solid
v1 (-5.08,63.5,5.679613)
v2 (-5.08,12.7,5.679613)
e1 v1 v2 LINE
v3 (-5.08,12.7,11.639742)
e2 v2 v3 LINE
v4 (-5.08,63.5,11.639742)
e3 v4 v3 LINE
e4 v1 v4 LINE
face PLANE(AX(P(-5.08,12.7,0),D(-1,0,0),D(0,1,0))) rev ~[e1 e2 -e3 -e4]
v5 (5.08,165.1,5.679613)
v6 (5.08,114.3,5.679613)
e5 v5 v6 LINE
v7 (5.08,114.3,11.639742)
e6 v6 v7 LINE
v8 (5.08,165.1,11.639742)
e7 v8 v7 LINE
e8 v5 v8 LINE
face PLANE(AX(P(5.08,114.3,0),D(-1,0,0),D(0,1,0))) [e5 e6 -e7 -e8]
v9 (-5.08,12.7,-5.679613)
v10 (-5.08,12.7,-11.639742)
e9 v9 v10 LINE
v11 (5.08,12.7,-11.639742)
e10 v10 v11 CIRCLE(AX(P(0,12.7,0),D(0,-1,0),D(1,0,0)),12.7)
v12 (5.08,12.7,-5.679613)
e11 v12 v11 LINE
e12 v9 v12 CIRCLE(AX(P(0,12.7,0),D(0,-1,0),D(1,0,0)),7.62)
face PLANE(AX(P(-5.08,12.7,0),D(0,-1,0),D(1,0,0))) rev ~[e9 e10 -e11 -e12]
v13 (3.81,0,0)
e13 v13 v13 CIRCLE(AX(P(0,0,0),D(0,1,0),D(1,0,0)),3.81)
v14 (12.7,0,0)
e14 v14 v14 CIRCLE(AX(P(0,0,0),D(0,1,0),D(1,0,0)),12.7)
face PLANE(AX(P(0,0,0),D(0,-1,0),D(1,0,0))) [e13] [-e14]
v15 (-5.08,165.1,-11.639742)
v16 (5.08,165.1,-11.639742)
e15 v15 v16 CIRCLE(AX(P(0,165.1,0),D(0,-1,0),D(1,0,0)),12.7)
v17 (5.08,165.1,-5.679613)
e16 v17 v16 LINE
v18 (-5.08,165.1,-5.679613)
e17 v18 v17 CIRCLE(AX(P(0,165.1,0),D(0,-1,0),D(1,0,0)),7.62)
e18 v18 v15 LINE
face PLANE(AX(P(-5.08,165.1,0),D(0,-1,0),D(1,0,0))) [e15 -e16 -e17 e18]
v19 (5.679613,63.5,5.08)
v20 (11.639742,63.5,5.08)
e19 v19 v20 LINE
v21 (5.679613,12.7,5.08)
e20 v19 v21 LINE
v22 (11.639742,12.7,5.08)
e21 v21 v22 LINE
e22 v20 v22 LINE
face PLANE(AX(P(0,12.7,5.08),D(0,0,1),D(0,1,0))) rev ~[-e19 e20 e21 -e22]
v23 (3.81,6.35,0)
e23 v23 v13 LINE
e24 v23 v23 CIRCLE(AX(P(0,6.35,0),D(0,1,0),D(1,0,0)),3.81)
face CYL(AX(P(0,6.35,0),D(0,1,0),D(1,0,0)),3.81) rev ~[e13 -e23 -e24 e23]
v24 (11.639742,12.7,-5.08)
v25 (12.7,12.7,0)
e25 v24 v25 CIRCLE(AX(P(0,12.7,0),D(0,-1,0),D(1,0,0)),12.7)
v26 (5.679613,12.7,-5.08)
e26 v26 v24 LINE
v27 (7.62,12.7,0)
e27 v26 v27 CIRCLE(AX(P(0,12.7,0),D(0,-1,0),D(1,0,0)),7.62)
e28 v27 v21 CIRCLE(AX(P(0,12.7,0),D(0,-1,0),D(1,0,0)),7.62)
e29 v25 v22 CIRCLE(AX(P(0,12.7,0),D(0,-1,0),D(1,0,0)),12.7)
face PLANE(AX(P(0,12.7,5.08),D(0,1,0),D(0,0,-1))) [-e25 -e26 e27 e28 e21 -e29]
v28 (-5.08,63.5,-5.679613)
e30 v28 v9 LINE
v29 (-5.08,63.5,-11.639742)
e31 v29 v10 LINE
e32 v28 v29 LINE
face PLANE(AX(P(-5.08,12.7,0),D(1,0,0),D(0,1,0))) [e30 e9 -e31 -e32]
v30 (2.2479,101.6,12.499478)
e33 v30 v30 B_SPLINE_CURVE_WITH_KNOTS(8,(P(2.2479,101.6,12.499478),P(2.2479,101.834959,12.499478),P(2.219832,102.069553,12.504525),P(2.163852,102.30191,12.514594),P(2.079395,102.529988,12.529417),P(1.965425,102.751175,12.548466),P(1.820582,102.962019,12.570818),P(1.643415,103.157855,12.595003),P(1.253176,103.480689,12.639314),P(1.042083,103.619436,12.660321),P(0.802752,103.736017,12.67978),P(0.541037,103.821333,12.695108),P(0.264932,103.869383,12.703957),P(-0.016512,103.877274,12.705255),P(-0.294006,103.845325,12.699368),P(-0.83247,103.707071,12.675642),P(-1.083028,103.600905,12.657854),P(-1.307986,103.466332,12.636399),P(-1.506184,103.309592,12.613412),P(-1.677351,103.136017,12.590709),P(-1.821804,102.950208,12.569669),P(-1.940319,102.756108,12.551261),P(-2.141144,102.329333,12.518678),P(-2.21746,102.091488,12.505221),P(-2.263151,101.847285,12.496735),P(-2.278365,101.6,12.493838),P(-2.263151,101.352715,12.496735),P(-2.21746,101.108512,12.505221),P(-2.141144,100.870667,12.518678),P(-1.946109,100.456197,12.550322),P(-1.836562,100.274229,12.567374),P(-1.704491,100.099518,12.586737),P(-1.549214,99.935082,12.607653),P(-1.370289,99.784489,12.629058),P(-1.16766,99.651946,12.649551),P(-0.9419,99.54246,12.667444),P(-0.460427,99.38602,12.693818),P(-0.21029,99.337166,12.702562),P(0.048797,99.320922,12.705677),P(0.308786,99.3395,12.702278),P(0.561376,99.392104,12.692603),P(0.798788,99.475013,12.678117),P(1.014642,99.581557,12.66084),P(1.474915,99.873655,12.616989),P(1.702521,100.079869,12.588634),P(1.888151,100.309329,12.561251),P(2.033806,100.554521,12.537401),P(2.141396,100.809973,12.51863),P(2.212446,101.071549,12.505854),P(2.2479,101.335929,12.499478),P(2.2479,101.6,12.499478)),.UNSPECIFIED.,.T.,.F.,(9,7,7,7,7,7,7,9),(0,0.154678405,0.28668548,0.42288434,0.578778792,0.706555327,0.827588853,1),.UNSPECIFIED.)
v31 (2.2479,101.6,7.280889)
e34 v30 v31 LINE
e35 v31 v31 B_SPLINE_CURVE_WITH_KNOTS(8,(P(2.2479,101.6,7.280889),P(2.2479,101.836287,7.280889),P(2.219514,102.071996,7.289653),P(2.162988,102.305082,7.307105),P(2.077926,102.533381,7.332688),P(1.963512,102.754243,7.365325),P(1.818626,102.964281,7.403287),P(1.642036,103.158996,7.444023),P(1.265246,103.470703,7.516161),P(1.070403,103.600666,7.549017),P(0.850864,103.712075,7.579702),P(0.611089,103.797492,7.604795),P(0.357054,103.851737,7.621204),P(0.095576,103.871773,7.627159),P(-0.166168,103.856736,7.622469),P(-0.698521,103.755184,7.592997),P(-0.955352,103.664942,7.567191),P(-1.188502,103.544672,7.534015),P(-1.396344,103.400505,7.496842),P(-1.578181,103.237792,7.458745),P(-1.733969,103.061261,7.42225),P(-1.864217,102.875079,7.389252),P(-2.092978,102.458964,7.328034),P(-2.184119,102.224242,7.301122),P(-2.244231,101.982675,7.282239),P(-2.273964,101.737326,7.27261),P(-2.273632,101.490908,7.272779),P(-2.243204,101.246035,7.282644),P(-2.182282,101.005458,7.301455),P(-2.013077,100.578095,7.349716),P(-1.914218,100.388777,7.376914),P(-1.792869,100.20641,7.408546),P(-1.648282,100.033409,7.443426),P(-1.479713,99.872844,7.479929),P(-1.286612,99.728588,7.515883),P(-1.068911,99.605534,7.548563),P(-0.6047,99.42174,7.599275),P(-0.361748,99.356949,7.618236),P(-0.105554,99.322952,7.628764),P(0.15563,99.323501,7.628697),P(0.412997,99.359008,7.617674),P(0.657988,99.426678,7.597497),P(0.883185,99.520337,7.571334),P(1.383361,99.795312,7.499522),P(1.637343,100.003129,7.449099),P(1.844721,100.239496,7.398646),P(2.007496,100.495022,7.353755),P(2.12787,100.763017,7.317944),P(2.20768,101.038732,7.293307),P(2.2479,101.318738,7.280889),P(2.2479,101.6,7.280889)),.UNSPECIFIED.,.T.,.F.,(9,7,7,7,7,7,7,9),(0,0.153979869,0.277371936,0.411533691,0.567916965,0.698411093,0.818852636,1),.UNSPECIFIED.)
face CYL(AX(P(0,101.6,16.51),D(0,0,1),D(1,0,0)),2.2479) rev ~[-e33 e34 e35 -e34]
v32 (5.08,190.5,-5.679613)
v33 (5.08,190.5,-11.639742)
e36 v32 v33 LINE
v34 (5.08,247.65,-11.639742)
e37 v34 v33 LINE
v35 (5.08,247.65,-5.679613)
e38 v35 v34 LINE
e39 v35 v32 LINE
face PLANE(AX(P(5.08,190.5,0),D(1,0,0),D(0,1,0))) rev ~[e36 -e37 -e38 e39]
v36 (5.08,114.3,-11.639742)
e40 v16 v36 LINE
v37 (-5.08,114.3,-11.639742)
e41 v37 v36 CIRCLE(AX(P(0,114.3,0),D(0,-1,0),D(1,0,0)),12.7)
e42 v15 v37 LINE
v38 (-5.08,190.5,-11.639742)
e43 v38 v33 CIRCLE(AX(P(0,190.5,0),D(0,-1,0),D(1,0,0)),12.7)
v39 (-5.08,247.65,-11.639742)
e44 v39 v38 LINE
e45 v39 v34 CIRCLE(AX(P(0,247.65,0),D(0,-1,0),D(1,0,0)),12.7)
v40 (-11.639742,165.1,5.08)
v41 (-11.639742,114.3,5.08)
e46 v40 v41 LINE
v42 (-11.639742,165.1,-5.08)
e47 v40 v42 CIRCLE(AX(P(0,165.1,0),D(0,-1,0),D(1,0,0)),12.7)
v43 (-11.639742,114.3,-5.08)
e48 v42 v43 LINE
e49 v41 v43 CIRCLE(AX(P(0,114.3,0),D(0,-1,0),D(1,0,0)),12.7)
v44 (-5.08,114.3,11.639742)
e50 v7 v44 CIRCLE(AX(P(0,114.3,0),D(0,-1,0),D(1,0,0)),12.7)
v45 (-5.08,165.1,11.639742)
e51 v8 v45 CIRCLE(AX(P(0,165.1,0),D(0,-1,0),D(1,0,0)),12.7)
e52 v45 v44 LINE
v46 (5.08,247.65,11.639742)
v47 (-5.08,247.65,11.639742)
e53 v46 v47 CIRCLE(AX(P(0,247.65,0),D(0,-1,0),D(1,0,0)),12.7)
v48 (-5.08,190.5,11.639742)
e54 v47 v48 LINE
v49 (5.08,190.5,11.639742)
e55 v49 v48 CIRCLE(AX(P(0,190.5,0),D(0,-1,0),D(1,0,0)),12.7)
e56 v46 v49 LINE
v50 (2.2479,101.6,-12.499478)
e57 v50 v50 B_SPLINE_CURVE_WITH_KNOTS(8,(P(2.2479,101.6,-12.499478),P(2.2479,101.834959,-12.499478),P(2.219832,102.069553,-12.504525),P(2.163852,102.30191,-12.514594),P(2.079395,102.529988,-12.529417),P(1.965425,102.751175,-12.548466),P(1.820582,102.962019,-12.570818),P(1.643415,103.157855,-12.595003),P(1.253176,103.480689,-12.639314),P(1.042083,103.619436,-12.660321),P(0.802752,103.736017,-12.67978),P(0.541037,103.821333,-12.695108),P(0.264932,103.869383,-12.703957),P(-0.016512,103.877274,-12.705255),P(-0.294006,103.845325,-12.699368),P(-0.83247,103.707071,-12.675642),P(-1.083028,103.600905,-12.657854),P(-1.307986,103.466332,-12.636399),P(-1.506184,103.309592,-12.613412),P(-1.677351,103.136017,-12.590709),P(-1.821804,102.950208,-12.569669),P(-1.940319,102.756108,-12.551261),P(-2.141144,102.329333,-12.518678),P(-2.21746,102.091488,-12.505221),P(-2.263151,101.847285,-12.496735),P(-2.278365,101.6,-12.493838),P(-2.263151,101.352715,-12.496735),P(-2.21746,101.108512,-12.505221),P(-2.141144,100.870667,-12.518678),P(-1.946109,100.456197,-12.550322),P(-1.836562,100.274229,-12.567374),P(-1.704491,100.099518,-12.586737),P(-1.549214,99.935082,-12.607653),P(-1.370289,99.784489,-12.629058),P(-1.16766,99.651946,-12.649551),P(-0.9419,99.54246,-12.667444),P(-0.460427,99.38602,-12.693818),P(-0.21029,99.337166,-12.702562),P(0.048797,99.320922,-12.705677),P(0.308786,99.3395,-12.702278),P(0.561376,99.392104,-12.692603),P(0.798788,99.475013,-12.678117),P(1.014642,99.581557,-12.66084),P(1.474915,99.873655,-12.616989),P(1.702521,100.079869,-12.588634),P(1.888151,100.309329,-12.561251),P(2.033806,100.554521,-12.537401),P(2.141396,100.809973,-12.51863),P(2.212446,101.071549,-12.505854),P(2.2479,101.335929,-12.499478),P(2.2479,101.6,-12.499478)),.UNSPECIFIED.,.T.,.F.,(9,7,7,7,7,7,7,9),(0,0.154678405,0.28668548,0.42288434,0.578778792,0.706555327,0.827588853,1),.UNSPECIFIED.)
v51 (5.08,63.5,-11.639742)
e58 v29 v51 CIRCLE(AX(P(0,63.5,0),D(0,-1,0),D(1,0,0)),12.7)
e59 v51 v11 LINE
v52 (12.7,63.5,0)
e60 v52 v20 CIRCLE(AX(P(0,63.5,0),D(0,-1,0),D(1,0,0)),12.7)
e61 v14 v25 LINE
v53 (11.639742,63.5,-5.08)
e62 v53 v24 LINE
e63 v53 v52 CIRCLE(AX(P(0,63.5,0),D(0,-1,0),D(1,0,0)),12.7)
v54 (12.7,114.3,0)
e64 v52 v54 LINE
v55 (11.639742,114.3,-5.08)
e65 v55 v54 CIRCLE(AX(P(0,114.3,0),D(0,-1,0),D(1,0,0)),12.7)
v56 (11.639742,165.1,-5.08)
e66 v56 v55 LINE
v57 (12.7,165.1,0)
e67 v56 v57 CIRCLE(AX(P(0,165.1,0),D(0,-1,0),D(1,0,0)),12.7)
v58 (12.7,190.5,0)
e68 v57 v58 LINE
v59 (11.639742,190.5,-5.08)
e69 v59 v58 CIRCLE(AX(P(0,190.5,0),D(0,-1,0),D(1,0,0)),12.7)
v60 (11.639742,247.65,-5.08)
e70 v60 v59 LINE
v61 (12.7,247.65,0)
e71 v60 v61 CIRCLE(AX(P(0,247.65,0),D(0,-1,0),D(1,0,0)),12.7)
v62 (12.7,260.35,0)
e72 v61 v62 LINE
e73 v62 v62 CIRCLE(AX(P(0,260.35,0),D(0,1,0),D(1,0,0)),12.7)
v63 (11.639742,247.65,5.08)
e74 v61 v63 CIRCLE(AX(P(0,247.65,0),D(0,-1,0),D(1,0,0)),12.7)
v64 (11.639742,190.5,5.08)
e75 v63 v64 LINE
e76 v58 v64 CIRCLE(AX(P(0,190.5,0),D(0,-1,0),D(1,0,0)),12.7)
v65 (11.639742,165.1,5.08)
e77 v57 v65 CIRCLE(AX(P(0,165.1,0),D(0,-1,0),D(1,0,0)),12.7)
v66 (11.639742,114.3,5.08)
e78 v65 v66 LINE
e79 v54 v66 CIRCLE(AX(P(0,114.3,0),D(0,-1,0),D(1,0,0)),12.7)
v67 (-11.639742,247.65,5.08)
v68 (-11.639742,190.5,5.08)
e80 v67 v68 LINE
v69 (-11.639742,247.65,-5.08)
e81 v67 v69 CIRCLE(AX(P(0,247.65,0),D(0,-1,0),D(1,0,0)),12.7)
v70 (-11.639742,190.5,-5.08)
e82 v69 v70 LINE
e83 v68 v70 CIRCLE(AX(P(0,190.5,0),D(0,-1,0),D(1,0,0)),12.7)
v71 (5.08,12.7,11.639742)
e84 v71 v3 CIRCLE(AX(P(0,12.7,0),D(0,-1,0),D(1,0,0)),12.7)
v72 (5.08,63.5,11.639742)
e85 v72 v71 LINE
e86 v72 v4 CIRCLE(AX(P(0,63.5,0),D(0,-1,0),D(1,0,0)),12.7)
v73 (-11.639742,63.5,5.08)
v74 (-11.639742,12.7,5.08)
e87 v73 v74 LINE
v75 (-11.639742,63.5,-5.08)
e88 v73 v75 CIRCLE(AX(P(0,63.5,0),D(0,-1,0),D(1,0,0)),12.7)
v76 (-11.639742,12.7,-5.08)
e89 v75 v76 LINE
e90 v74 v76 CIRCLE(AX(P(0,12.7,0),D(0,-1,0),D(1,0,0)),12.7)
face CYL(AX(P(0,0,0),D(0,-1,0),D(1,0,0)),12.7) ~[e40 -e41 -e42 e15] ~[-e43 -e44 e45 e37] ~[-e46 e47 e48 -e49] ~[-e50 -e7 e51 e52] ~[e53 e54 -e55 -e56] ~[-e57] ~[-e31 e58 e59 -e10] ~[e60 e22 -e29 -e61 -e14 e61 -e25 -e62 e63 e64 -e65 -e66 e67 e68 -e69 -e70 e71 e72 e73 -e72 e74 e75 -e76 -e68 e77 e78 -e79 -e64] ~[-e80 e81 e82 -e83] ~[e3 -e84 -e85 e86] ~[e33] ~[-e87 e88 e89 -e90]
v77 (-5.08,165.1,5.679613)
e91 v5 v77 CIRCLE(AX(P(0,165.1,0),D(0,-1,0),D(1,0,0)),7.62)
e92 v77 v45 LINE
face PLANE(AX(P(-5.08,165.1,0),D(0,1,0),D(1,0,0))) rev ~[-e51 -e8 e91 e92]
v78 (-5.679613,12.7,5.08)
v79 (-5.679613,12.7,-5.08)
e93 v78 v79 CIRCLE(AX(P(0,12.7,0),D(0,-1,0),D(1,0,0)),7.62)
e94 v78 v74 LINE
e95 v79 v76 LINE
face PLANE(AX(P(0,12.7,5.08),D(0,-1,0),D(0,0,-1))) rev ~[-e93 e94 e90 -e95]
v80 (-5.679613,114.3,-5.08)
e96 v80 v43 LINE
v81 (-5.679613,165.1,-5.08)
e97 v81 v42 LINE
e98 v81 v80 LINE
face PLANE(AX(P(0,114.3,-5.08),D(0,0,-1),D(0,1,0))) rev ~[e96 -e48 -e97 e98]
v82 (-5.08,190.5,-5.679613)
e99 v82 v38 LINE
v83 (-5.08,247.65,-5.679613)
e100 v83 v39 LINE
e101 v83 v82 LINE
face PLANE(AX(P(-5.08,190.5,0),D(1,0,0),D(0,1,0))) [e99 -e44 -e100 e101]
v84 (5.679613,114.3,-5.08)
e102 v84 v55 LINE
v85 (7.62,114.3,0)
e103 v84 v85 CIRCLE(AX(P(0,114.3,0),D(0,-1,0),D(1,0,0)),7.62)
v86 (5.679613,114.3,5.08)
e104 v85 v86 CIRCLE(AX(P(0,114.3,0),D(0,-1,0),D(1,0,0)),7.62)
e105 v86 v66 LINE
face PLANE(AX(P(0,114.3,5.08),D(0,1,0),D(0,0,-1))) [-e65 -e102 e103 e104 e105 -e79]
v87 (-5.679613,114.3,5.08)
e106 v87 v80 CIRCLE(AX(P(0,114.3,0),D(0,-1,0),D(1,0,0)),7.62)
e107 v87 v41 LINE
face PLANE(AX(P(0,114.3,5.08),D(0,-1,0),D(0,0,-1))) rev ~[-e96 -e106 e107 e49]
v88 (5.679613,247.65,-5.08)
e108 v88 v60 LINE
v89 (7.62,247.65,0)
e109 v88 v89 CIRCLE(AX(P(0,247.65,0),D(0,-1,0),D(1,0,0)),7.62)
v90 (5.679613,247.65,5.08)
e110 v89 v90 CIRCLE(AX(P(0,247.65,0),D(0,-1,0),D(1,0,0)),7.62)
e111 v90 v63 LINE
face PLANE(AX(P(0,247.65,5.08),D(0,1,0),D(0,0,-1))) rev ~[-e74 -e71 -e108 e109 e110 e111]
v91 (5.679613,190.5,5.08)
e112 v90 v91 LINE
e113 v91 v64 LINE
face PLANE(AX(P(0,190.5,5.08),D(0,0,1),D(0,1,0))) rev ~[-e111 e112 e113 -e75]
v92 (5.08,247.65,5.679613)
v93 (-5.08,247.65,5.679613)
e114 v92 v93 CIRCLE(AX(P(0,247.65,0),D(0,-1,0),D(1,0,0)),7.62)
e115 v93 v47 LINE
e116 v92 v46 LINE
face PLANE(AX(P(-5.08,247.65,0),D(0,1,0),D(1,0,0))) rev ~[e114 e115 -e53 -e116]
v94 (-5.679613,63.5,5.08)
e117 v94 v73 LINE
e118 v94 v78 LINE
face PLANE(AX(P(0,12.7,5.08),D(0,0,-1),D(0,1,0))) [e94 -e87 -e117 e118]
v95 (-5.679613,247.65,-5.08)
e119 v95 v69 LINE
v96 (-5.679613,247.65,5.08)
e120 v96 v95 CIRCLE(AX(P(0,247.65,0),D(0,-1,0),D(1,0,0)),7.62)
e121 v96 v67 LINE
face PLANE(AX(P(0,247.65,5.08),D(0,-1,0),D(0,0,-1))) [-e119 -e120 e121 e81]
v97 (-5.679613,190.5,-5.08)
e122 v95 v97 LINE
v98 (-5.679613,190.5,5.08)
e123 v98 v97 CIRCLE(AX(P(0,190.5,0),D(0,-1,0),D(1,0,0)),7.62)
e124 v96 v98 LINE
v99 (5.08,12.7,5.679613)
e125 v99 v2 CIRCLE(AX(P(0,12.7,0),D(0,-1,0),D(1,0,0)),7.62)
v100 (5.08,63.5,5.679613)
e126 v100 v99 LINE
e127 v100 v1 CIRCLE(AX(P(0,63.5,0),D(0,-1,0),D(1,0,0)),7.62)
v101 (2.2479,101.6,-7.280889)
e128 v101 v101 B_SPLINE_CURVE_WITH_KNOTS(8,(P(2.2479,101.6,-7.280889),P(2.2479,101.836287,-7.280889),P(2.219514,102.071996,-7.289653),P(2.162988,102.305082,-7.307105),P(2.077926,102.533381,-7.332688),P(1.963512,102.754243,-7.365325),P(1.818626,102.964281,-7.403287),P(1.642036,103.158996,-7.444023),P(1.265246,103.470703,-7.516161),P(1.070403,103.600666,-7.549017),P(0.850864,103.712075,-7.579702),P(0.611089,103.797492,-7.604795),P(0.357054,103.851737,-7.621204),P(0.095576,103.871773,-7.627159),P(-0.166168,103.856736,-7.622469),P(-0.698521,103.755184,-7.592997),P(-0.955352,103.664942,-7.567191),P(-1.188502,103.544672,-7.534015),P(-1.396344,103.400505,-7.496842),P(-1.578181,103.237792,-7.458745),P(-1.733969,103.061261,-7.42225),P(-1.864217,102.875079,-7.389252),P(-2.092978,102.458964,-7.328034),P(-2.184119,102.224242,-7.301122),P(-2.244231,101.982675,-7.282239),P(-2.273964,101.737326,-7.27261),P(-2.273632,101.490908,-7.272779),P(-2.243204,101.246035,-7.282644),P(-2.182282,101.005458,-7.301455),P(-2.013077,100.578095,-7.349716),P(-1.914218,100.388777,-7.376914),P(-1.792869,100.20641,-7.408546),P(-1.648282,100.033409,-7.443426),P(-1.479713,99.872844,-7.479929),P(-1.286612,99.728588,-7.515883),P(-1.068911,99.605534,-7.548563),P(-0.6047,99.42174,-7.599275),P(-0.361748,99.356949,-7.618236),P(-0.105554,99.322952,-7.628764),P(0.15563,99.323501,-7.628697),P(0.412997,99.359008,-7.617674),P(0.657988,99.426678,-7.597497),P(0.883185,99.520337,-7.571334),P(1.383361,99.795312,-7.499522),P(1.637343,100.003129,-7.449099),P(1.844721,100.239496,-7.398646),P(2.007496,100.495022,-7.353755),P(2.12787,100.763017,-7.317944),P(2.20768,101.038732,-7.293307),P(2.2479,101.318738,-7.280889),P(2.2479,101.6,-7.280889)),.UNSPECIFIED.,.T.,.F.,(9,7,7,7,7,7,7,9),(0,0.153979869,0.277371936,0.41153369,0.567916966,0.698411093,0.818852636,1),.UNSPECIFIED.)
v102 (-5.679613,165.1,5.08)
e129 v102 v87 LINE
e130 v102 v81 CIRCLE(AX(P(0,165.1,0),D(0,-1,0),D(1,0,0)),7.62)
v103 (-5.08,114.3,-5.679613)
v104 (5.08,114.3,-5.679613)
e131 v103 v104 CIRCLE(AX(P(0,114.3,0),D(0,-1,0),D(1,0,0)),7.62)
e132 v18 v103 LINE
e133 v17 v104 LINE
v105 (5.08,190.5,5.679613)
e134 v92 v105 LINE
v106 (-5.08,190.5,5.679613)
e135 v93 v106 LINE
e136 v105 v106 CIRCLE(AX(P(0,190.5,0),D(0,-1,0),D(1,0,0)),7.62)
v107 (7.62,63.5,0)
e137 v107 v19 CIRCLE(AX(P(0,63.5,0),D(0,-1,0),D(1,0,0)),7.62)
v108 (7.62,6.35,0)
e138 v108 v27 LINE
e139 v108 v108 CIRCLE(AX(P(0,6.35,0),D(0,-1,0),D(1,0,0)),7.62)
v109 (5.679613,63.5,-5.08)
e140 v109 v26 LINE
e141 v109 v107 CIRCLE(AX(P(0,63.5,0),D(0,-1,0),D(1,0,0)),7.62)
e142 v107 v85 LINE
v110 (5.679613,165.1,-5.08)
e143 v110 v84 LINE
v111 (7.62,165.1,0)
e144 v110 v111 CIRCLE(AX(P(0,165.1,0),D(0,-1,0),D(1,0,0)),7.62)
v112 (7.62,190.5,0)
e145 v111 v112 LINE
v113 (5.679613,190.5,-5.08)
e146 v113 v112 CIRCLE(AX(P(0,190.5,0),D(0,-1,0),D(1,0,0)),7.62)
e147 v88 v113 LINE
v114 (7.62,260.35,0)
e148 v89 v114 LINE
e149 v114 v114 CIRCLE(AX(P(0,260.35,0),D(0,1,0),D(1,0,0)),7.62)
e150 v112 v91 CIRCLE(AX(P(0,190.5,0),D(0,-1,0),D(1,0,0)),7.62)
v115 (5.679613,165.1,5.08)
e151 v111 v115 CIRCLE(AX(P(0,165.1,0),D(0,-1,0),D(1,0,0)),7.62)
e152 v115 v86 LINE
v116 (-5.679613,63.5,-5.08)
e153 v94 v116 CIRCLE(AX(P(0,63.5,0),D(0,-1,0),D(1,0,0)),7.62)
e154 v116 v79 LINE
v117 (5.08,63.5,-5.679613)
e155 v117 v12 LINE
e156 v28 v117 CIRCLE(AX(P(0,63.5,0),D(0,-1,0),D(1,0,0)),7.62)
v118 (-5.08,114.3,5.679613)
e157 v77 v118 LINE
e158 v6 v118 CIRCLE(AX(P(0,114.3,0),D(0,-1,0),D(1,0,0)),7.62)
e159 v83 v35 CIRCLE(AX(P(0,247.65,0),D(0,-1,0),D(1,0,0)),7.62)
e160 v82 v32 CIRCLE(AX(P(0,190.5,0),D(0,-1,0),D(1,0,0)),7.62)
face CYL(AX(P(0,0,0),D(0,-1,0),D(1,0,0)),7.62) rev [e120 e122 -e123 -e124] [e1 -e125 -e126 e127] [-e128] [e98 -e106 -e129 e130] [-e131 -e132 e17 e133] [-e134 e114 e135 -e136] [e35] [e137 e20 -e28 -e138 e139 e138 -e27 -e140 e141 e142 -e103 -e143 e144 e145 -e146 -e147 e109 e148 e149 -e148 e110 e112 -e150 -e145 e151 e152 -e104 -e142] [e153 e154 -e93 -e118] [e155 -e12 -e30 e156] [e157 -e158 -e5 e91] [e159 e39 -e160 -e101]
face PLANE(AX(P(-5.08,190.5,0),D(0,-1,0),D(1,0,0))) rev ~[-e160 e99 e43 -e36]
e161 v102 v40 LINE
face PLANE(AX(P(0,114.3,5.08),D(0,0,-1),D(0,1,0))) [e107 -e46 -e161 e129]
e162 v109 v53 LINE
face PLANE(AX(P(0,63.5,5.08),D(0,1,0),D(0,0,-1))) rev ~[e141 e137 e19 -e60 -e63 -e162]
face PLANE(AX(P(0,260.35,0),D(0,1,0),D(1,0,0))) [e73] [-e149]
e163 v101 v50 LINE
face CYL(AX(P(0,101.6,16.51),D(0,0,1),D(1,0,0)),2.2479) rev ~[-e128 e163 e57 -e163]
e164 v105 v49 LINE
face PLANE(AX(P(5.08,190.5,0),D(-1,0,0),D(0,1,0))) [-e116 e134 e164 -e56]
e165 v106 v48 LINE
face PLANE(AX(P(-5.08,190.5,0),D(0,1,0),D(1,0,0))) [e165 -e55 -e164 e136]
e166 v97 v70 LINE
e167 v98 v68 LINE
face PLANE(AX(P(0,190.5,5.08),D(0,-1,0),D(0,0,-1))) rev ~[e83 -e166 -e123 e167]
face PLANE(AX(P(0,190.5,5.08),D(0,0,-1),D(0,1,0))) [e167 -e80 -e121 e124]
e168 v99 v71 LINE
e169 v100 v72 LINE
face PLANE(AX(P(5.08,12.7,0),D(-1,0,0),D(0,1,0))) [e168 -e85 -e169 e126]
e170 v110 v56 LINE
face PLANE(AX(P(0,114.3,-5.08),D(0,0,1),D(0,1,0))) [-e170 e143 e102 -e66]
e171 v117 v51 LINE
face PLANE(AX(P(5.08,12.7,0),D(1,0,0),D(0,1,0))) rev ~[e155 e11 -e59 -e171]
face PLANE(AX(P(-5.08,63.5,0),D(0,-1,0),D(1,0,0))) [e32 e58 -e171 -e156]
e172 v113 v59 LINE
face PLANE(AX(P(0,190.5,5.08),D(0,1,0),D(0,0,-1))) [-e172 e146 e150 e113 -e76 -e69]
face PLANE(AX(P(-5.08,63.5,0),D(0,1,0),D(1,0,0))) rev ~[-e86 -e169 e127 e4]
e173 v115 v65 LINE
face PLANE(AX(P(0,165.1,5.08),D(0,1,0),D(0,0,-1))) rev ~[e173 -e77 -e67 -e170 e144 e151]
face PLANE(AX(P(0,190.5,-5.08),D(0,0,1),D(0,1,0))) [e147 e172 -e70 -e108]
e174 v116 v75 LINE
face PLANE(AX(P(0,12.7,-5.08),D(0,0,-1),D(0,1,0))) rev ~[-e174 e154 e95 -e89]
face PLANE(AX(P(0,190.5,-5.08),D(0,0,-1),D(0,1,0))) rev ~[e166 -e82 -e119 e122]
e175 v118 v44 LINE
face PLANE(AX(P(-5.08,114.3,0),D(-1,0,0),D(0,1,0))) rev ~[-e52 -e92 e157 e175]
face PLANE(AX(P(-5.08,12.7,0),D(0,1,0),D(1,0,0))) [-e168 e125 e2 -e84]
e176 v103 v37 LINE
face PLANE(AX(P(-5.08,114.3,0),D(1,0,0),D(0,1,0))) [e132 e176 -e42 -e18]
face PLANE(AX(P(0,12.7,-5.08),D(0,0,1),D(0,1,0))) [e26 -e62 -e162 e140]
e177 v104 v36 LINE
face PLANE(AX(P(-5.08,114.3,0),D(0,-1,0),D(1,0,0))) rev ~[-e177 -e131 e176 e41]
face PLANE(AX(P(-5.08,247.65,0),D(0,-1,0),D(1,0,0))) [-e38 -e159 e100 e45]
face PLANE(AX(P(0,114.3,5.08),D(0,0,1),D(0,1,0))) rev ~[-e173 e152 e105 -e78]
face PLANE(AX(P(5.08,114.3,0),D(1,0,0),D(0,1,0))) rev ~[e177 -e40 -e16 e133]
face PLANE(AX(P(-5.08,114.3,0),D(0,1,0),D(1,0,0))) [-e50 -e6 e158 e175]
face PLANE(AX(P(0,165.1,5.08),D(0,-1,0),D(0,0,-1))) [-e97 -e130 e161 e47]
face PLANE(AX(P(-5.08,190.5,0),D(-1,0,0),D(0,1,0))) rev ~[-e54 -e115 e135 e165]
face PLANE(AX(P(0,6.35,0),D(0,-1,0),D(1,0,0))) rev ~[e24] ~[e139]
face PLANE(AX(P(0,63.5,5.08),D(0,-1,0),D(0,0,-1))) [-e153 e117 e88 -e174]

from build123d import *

# Parameters (mm, degrees)
SKETCH1_R               = 12.7
SKETCH1_R_2             = 7.62
BOSS_EXTRUDE1_DEPTH     = 260.35
SKETCH2_R               = 7.62
BOSS_EXTRUDE2_DEPTH     = 6.35
SKETCH3_R               = 2.2479
CUT_EXTRUDE1_DEPTH      = 1
CUT_EXTRUDE1_DEPTH_BACK = 30.21
SKETCH5_W               = 10.16
SKETCH5_H               = 50.8
SKETCH5_H_2             = 57.15
CUT_EXTRUDE5_DEPTH      = 13.7000001
CUT_EXTRUDE5_DEPTH_BACK = 13.7000001
SKETCH8_W               = 10.16
SKETCH8_H               = 50.8
SKETCH8_H_2             = 57.15
CUT_EXTRUDE6_DEPTH      = 13.7000001
CUT_EXTRUDE6_DEPTH_BACK = 13.7000001
SKETCH7_R               = 3.81
CUT_EXTRUDE4_DEPTH      = 7.3500001


with BuildPart() as part:
    # Sketch1 → Boss-Extrude1 (new body)
    with BuildSketch(Plane(origin=(0, 0, 0), x_dir=(1, 0, 0), z_dir=(0, 1, 0))):
        Circle(SKETCH1_R)
        Circle(SKETCH1_R_2, mode=Mode.SUBTRACT)
    extrude(amount=BOSS_EXTRUDE1_DEPTH)

    # Sketch2 → Boss-Extrude2 (add)
    with BuildSketch(Plane.XZ):
        Circle(SKETCH2_R)
    extrude(amount=-BOSS_EXTRUDE2_DEPTH)

    # Sketch3 → Cut-Extrude1 (cut, two sides)
    with BuildSketch(Plane.XY.offset(16.51)) as cut_extrude1_sk:
        with Locations((0, 101.6)):
            Circle(SKETCH3_R)
    extrude(amount=CUT_EXTRUDE1_DEPTH, mode=Mode.SUBTRACT)
    extrude(cut_extrude1_sk.sketch, amount=-CUT_EXTRUDE1_DEPTH_BACK, mode=Mode.SUBTRACT)

    # Sketch5 → Cut-Extrude5 (cut, two sides)
    with BuildSketch(Plane(origin=(0, 0, 0), x_dir=(0, 0, -1), z_dir=(1, 0, 0))) as cut_extrude5_sk:
        with Locations((0, 38.1)):
            Rectangle(SKETCH5_W, SKETCH5_H)
        with Locations((0, 139.7)):
            Rectangle(SKETCH5_W, SKETCH5_H)
        with Locations((0, 219.075)):
            Rectangle(SKETCH5_W, SKETCH5_H_2)
    extrude(amount=CUT_EXTRUDE5_DEPTH, mode=Mode.SUBTRACT)
    extrude(cut_extrude5_sk.sketch, amount=-CUT_EXTRUDE5_DEPTH_BACK, mode=Mode.SUBTRACT)

    # Sketch8 → Cut-Extrude6 (cut, two sides)
    with BuildSketch(Plane.XY) as cut_extrude6_sk:
        with Locations((0, 38.1)):
            Rectangle(SKETCH8_W, SKETCH8_H)
        with Locations((0, 139.7)):
            Rectangle(SKETCH8_W, SKETCH8_H)
        with Locations((0, 219.075)):
            Rectangle(SKETCH8_W, SKETCH8_H_2)
    extrude(amount=CUT_EXTRUDE6_DEPTH, mode=Mode.SUBTRACT)
    extrude(cut_extrude6_sk.sketch, amount=-CUT_EXTRUDE6_DEPTH_BACK, mode=Mode.SUBTRACT)

    # Sketch7 → Cut-Extrude4 (cut, through all)
    with BuildSketch(Plane(origin=(0, 6.35, 0), x_dir=(1, 0, 0), z_dir=(0, 1, 0))):
        Circle(SKETCH7_R)
    extrude(amount=-CUT_EXTRUDE4_DEPTH, mode=Mode.SUBTRACT)


solid = part.part
